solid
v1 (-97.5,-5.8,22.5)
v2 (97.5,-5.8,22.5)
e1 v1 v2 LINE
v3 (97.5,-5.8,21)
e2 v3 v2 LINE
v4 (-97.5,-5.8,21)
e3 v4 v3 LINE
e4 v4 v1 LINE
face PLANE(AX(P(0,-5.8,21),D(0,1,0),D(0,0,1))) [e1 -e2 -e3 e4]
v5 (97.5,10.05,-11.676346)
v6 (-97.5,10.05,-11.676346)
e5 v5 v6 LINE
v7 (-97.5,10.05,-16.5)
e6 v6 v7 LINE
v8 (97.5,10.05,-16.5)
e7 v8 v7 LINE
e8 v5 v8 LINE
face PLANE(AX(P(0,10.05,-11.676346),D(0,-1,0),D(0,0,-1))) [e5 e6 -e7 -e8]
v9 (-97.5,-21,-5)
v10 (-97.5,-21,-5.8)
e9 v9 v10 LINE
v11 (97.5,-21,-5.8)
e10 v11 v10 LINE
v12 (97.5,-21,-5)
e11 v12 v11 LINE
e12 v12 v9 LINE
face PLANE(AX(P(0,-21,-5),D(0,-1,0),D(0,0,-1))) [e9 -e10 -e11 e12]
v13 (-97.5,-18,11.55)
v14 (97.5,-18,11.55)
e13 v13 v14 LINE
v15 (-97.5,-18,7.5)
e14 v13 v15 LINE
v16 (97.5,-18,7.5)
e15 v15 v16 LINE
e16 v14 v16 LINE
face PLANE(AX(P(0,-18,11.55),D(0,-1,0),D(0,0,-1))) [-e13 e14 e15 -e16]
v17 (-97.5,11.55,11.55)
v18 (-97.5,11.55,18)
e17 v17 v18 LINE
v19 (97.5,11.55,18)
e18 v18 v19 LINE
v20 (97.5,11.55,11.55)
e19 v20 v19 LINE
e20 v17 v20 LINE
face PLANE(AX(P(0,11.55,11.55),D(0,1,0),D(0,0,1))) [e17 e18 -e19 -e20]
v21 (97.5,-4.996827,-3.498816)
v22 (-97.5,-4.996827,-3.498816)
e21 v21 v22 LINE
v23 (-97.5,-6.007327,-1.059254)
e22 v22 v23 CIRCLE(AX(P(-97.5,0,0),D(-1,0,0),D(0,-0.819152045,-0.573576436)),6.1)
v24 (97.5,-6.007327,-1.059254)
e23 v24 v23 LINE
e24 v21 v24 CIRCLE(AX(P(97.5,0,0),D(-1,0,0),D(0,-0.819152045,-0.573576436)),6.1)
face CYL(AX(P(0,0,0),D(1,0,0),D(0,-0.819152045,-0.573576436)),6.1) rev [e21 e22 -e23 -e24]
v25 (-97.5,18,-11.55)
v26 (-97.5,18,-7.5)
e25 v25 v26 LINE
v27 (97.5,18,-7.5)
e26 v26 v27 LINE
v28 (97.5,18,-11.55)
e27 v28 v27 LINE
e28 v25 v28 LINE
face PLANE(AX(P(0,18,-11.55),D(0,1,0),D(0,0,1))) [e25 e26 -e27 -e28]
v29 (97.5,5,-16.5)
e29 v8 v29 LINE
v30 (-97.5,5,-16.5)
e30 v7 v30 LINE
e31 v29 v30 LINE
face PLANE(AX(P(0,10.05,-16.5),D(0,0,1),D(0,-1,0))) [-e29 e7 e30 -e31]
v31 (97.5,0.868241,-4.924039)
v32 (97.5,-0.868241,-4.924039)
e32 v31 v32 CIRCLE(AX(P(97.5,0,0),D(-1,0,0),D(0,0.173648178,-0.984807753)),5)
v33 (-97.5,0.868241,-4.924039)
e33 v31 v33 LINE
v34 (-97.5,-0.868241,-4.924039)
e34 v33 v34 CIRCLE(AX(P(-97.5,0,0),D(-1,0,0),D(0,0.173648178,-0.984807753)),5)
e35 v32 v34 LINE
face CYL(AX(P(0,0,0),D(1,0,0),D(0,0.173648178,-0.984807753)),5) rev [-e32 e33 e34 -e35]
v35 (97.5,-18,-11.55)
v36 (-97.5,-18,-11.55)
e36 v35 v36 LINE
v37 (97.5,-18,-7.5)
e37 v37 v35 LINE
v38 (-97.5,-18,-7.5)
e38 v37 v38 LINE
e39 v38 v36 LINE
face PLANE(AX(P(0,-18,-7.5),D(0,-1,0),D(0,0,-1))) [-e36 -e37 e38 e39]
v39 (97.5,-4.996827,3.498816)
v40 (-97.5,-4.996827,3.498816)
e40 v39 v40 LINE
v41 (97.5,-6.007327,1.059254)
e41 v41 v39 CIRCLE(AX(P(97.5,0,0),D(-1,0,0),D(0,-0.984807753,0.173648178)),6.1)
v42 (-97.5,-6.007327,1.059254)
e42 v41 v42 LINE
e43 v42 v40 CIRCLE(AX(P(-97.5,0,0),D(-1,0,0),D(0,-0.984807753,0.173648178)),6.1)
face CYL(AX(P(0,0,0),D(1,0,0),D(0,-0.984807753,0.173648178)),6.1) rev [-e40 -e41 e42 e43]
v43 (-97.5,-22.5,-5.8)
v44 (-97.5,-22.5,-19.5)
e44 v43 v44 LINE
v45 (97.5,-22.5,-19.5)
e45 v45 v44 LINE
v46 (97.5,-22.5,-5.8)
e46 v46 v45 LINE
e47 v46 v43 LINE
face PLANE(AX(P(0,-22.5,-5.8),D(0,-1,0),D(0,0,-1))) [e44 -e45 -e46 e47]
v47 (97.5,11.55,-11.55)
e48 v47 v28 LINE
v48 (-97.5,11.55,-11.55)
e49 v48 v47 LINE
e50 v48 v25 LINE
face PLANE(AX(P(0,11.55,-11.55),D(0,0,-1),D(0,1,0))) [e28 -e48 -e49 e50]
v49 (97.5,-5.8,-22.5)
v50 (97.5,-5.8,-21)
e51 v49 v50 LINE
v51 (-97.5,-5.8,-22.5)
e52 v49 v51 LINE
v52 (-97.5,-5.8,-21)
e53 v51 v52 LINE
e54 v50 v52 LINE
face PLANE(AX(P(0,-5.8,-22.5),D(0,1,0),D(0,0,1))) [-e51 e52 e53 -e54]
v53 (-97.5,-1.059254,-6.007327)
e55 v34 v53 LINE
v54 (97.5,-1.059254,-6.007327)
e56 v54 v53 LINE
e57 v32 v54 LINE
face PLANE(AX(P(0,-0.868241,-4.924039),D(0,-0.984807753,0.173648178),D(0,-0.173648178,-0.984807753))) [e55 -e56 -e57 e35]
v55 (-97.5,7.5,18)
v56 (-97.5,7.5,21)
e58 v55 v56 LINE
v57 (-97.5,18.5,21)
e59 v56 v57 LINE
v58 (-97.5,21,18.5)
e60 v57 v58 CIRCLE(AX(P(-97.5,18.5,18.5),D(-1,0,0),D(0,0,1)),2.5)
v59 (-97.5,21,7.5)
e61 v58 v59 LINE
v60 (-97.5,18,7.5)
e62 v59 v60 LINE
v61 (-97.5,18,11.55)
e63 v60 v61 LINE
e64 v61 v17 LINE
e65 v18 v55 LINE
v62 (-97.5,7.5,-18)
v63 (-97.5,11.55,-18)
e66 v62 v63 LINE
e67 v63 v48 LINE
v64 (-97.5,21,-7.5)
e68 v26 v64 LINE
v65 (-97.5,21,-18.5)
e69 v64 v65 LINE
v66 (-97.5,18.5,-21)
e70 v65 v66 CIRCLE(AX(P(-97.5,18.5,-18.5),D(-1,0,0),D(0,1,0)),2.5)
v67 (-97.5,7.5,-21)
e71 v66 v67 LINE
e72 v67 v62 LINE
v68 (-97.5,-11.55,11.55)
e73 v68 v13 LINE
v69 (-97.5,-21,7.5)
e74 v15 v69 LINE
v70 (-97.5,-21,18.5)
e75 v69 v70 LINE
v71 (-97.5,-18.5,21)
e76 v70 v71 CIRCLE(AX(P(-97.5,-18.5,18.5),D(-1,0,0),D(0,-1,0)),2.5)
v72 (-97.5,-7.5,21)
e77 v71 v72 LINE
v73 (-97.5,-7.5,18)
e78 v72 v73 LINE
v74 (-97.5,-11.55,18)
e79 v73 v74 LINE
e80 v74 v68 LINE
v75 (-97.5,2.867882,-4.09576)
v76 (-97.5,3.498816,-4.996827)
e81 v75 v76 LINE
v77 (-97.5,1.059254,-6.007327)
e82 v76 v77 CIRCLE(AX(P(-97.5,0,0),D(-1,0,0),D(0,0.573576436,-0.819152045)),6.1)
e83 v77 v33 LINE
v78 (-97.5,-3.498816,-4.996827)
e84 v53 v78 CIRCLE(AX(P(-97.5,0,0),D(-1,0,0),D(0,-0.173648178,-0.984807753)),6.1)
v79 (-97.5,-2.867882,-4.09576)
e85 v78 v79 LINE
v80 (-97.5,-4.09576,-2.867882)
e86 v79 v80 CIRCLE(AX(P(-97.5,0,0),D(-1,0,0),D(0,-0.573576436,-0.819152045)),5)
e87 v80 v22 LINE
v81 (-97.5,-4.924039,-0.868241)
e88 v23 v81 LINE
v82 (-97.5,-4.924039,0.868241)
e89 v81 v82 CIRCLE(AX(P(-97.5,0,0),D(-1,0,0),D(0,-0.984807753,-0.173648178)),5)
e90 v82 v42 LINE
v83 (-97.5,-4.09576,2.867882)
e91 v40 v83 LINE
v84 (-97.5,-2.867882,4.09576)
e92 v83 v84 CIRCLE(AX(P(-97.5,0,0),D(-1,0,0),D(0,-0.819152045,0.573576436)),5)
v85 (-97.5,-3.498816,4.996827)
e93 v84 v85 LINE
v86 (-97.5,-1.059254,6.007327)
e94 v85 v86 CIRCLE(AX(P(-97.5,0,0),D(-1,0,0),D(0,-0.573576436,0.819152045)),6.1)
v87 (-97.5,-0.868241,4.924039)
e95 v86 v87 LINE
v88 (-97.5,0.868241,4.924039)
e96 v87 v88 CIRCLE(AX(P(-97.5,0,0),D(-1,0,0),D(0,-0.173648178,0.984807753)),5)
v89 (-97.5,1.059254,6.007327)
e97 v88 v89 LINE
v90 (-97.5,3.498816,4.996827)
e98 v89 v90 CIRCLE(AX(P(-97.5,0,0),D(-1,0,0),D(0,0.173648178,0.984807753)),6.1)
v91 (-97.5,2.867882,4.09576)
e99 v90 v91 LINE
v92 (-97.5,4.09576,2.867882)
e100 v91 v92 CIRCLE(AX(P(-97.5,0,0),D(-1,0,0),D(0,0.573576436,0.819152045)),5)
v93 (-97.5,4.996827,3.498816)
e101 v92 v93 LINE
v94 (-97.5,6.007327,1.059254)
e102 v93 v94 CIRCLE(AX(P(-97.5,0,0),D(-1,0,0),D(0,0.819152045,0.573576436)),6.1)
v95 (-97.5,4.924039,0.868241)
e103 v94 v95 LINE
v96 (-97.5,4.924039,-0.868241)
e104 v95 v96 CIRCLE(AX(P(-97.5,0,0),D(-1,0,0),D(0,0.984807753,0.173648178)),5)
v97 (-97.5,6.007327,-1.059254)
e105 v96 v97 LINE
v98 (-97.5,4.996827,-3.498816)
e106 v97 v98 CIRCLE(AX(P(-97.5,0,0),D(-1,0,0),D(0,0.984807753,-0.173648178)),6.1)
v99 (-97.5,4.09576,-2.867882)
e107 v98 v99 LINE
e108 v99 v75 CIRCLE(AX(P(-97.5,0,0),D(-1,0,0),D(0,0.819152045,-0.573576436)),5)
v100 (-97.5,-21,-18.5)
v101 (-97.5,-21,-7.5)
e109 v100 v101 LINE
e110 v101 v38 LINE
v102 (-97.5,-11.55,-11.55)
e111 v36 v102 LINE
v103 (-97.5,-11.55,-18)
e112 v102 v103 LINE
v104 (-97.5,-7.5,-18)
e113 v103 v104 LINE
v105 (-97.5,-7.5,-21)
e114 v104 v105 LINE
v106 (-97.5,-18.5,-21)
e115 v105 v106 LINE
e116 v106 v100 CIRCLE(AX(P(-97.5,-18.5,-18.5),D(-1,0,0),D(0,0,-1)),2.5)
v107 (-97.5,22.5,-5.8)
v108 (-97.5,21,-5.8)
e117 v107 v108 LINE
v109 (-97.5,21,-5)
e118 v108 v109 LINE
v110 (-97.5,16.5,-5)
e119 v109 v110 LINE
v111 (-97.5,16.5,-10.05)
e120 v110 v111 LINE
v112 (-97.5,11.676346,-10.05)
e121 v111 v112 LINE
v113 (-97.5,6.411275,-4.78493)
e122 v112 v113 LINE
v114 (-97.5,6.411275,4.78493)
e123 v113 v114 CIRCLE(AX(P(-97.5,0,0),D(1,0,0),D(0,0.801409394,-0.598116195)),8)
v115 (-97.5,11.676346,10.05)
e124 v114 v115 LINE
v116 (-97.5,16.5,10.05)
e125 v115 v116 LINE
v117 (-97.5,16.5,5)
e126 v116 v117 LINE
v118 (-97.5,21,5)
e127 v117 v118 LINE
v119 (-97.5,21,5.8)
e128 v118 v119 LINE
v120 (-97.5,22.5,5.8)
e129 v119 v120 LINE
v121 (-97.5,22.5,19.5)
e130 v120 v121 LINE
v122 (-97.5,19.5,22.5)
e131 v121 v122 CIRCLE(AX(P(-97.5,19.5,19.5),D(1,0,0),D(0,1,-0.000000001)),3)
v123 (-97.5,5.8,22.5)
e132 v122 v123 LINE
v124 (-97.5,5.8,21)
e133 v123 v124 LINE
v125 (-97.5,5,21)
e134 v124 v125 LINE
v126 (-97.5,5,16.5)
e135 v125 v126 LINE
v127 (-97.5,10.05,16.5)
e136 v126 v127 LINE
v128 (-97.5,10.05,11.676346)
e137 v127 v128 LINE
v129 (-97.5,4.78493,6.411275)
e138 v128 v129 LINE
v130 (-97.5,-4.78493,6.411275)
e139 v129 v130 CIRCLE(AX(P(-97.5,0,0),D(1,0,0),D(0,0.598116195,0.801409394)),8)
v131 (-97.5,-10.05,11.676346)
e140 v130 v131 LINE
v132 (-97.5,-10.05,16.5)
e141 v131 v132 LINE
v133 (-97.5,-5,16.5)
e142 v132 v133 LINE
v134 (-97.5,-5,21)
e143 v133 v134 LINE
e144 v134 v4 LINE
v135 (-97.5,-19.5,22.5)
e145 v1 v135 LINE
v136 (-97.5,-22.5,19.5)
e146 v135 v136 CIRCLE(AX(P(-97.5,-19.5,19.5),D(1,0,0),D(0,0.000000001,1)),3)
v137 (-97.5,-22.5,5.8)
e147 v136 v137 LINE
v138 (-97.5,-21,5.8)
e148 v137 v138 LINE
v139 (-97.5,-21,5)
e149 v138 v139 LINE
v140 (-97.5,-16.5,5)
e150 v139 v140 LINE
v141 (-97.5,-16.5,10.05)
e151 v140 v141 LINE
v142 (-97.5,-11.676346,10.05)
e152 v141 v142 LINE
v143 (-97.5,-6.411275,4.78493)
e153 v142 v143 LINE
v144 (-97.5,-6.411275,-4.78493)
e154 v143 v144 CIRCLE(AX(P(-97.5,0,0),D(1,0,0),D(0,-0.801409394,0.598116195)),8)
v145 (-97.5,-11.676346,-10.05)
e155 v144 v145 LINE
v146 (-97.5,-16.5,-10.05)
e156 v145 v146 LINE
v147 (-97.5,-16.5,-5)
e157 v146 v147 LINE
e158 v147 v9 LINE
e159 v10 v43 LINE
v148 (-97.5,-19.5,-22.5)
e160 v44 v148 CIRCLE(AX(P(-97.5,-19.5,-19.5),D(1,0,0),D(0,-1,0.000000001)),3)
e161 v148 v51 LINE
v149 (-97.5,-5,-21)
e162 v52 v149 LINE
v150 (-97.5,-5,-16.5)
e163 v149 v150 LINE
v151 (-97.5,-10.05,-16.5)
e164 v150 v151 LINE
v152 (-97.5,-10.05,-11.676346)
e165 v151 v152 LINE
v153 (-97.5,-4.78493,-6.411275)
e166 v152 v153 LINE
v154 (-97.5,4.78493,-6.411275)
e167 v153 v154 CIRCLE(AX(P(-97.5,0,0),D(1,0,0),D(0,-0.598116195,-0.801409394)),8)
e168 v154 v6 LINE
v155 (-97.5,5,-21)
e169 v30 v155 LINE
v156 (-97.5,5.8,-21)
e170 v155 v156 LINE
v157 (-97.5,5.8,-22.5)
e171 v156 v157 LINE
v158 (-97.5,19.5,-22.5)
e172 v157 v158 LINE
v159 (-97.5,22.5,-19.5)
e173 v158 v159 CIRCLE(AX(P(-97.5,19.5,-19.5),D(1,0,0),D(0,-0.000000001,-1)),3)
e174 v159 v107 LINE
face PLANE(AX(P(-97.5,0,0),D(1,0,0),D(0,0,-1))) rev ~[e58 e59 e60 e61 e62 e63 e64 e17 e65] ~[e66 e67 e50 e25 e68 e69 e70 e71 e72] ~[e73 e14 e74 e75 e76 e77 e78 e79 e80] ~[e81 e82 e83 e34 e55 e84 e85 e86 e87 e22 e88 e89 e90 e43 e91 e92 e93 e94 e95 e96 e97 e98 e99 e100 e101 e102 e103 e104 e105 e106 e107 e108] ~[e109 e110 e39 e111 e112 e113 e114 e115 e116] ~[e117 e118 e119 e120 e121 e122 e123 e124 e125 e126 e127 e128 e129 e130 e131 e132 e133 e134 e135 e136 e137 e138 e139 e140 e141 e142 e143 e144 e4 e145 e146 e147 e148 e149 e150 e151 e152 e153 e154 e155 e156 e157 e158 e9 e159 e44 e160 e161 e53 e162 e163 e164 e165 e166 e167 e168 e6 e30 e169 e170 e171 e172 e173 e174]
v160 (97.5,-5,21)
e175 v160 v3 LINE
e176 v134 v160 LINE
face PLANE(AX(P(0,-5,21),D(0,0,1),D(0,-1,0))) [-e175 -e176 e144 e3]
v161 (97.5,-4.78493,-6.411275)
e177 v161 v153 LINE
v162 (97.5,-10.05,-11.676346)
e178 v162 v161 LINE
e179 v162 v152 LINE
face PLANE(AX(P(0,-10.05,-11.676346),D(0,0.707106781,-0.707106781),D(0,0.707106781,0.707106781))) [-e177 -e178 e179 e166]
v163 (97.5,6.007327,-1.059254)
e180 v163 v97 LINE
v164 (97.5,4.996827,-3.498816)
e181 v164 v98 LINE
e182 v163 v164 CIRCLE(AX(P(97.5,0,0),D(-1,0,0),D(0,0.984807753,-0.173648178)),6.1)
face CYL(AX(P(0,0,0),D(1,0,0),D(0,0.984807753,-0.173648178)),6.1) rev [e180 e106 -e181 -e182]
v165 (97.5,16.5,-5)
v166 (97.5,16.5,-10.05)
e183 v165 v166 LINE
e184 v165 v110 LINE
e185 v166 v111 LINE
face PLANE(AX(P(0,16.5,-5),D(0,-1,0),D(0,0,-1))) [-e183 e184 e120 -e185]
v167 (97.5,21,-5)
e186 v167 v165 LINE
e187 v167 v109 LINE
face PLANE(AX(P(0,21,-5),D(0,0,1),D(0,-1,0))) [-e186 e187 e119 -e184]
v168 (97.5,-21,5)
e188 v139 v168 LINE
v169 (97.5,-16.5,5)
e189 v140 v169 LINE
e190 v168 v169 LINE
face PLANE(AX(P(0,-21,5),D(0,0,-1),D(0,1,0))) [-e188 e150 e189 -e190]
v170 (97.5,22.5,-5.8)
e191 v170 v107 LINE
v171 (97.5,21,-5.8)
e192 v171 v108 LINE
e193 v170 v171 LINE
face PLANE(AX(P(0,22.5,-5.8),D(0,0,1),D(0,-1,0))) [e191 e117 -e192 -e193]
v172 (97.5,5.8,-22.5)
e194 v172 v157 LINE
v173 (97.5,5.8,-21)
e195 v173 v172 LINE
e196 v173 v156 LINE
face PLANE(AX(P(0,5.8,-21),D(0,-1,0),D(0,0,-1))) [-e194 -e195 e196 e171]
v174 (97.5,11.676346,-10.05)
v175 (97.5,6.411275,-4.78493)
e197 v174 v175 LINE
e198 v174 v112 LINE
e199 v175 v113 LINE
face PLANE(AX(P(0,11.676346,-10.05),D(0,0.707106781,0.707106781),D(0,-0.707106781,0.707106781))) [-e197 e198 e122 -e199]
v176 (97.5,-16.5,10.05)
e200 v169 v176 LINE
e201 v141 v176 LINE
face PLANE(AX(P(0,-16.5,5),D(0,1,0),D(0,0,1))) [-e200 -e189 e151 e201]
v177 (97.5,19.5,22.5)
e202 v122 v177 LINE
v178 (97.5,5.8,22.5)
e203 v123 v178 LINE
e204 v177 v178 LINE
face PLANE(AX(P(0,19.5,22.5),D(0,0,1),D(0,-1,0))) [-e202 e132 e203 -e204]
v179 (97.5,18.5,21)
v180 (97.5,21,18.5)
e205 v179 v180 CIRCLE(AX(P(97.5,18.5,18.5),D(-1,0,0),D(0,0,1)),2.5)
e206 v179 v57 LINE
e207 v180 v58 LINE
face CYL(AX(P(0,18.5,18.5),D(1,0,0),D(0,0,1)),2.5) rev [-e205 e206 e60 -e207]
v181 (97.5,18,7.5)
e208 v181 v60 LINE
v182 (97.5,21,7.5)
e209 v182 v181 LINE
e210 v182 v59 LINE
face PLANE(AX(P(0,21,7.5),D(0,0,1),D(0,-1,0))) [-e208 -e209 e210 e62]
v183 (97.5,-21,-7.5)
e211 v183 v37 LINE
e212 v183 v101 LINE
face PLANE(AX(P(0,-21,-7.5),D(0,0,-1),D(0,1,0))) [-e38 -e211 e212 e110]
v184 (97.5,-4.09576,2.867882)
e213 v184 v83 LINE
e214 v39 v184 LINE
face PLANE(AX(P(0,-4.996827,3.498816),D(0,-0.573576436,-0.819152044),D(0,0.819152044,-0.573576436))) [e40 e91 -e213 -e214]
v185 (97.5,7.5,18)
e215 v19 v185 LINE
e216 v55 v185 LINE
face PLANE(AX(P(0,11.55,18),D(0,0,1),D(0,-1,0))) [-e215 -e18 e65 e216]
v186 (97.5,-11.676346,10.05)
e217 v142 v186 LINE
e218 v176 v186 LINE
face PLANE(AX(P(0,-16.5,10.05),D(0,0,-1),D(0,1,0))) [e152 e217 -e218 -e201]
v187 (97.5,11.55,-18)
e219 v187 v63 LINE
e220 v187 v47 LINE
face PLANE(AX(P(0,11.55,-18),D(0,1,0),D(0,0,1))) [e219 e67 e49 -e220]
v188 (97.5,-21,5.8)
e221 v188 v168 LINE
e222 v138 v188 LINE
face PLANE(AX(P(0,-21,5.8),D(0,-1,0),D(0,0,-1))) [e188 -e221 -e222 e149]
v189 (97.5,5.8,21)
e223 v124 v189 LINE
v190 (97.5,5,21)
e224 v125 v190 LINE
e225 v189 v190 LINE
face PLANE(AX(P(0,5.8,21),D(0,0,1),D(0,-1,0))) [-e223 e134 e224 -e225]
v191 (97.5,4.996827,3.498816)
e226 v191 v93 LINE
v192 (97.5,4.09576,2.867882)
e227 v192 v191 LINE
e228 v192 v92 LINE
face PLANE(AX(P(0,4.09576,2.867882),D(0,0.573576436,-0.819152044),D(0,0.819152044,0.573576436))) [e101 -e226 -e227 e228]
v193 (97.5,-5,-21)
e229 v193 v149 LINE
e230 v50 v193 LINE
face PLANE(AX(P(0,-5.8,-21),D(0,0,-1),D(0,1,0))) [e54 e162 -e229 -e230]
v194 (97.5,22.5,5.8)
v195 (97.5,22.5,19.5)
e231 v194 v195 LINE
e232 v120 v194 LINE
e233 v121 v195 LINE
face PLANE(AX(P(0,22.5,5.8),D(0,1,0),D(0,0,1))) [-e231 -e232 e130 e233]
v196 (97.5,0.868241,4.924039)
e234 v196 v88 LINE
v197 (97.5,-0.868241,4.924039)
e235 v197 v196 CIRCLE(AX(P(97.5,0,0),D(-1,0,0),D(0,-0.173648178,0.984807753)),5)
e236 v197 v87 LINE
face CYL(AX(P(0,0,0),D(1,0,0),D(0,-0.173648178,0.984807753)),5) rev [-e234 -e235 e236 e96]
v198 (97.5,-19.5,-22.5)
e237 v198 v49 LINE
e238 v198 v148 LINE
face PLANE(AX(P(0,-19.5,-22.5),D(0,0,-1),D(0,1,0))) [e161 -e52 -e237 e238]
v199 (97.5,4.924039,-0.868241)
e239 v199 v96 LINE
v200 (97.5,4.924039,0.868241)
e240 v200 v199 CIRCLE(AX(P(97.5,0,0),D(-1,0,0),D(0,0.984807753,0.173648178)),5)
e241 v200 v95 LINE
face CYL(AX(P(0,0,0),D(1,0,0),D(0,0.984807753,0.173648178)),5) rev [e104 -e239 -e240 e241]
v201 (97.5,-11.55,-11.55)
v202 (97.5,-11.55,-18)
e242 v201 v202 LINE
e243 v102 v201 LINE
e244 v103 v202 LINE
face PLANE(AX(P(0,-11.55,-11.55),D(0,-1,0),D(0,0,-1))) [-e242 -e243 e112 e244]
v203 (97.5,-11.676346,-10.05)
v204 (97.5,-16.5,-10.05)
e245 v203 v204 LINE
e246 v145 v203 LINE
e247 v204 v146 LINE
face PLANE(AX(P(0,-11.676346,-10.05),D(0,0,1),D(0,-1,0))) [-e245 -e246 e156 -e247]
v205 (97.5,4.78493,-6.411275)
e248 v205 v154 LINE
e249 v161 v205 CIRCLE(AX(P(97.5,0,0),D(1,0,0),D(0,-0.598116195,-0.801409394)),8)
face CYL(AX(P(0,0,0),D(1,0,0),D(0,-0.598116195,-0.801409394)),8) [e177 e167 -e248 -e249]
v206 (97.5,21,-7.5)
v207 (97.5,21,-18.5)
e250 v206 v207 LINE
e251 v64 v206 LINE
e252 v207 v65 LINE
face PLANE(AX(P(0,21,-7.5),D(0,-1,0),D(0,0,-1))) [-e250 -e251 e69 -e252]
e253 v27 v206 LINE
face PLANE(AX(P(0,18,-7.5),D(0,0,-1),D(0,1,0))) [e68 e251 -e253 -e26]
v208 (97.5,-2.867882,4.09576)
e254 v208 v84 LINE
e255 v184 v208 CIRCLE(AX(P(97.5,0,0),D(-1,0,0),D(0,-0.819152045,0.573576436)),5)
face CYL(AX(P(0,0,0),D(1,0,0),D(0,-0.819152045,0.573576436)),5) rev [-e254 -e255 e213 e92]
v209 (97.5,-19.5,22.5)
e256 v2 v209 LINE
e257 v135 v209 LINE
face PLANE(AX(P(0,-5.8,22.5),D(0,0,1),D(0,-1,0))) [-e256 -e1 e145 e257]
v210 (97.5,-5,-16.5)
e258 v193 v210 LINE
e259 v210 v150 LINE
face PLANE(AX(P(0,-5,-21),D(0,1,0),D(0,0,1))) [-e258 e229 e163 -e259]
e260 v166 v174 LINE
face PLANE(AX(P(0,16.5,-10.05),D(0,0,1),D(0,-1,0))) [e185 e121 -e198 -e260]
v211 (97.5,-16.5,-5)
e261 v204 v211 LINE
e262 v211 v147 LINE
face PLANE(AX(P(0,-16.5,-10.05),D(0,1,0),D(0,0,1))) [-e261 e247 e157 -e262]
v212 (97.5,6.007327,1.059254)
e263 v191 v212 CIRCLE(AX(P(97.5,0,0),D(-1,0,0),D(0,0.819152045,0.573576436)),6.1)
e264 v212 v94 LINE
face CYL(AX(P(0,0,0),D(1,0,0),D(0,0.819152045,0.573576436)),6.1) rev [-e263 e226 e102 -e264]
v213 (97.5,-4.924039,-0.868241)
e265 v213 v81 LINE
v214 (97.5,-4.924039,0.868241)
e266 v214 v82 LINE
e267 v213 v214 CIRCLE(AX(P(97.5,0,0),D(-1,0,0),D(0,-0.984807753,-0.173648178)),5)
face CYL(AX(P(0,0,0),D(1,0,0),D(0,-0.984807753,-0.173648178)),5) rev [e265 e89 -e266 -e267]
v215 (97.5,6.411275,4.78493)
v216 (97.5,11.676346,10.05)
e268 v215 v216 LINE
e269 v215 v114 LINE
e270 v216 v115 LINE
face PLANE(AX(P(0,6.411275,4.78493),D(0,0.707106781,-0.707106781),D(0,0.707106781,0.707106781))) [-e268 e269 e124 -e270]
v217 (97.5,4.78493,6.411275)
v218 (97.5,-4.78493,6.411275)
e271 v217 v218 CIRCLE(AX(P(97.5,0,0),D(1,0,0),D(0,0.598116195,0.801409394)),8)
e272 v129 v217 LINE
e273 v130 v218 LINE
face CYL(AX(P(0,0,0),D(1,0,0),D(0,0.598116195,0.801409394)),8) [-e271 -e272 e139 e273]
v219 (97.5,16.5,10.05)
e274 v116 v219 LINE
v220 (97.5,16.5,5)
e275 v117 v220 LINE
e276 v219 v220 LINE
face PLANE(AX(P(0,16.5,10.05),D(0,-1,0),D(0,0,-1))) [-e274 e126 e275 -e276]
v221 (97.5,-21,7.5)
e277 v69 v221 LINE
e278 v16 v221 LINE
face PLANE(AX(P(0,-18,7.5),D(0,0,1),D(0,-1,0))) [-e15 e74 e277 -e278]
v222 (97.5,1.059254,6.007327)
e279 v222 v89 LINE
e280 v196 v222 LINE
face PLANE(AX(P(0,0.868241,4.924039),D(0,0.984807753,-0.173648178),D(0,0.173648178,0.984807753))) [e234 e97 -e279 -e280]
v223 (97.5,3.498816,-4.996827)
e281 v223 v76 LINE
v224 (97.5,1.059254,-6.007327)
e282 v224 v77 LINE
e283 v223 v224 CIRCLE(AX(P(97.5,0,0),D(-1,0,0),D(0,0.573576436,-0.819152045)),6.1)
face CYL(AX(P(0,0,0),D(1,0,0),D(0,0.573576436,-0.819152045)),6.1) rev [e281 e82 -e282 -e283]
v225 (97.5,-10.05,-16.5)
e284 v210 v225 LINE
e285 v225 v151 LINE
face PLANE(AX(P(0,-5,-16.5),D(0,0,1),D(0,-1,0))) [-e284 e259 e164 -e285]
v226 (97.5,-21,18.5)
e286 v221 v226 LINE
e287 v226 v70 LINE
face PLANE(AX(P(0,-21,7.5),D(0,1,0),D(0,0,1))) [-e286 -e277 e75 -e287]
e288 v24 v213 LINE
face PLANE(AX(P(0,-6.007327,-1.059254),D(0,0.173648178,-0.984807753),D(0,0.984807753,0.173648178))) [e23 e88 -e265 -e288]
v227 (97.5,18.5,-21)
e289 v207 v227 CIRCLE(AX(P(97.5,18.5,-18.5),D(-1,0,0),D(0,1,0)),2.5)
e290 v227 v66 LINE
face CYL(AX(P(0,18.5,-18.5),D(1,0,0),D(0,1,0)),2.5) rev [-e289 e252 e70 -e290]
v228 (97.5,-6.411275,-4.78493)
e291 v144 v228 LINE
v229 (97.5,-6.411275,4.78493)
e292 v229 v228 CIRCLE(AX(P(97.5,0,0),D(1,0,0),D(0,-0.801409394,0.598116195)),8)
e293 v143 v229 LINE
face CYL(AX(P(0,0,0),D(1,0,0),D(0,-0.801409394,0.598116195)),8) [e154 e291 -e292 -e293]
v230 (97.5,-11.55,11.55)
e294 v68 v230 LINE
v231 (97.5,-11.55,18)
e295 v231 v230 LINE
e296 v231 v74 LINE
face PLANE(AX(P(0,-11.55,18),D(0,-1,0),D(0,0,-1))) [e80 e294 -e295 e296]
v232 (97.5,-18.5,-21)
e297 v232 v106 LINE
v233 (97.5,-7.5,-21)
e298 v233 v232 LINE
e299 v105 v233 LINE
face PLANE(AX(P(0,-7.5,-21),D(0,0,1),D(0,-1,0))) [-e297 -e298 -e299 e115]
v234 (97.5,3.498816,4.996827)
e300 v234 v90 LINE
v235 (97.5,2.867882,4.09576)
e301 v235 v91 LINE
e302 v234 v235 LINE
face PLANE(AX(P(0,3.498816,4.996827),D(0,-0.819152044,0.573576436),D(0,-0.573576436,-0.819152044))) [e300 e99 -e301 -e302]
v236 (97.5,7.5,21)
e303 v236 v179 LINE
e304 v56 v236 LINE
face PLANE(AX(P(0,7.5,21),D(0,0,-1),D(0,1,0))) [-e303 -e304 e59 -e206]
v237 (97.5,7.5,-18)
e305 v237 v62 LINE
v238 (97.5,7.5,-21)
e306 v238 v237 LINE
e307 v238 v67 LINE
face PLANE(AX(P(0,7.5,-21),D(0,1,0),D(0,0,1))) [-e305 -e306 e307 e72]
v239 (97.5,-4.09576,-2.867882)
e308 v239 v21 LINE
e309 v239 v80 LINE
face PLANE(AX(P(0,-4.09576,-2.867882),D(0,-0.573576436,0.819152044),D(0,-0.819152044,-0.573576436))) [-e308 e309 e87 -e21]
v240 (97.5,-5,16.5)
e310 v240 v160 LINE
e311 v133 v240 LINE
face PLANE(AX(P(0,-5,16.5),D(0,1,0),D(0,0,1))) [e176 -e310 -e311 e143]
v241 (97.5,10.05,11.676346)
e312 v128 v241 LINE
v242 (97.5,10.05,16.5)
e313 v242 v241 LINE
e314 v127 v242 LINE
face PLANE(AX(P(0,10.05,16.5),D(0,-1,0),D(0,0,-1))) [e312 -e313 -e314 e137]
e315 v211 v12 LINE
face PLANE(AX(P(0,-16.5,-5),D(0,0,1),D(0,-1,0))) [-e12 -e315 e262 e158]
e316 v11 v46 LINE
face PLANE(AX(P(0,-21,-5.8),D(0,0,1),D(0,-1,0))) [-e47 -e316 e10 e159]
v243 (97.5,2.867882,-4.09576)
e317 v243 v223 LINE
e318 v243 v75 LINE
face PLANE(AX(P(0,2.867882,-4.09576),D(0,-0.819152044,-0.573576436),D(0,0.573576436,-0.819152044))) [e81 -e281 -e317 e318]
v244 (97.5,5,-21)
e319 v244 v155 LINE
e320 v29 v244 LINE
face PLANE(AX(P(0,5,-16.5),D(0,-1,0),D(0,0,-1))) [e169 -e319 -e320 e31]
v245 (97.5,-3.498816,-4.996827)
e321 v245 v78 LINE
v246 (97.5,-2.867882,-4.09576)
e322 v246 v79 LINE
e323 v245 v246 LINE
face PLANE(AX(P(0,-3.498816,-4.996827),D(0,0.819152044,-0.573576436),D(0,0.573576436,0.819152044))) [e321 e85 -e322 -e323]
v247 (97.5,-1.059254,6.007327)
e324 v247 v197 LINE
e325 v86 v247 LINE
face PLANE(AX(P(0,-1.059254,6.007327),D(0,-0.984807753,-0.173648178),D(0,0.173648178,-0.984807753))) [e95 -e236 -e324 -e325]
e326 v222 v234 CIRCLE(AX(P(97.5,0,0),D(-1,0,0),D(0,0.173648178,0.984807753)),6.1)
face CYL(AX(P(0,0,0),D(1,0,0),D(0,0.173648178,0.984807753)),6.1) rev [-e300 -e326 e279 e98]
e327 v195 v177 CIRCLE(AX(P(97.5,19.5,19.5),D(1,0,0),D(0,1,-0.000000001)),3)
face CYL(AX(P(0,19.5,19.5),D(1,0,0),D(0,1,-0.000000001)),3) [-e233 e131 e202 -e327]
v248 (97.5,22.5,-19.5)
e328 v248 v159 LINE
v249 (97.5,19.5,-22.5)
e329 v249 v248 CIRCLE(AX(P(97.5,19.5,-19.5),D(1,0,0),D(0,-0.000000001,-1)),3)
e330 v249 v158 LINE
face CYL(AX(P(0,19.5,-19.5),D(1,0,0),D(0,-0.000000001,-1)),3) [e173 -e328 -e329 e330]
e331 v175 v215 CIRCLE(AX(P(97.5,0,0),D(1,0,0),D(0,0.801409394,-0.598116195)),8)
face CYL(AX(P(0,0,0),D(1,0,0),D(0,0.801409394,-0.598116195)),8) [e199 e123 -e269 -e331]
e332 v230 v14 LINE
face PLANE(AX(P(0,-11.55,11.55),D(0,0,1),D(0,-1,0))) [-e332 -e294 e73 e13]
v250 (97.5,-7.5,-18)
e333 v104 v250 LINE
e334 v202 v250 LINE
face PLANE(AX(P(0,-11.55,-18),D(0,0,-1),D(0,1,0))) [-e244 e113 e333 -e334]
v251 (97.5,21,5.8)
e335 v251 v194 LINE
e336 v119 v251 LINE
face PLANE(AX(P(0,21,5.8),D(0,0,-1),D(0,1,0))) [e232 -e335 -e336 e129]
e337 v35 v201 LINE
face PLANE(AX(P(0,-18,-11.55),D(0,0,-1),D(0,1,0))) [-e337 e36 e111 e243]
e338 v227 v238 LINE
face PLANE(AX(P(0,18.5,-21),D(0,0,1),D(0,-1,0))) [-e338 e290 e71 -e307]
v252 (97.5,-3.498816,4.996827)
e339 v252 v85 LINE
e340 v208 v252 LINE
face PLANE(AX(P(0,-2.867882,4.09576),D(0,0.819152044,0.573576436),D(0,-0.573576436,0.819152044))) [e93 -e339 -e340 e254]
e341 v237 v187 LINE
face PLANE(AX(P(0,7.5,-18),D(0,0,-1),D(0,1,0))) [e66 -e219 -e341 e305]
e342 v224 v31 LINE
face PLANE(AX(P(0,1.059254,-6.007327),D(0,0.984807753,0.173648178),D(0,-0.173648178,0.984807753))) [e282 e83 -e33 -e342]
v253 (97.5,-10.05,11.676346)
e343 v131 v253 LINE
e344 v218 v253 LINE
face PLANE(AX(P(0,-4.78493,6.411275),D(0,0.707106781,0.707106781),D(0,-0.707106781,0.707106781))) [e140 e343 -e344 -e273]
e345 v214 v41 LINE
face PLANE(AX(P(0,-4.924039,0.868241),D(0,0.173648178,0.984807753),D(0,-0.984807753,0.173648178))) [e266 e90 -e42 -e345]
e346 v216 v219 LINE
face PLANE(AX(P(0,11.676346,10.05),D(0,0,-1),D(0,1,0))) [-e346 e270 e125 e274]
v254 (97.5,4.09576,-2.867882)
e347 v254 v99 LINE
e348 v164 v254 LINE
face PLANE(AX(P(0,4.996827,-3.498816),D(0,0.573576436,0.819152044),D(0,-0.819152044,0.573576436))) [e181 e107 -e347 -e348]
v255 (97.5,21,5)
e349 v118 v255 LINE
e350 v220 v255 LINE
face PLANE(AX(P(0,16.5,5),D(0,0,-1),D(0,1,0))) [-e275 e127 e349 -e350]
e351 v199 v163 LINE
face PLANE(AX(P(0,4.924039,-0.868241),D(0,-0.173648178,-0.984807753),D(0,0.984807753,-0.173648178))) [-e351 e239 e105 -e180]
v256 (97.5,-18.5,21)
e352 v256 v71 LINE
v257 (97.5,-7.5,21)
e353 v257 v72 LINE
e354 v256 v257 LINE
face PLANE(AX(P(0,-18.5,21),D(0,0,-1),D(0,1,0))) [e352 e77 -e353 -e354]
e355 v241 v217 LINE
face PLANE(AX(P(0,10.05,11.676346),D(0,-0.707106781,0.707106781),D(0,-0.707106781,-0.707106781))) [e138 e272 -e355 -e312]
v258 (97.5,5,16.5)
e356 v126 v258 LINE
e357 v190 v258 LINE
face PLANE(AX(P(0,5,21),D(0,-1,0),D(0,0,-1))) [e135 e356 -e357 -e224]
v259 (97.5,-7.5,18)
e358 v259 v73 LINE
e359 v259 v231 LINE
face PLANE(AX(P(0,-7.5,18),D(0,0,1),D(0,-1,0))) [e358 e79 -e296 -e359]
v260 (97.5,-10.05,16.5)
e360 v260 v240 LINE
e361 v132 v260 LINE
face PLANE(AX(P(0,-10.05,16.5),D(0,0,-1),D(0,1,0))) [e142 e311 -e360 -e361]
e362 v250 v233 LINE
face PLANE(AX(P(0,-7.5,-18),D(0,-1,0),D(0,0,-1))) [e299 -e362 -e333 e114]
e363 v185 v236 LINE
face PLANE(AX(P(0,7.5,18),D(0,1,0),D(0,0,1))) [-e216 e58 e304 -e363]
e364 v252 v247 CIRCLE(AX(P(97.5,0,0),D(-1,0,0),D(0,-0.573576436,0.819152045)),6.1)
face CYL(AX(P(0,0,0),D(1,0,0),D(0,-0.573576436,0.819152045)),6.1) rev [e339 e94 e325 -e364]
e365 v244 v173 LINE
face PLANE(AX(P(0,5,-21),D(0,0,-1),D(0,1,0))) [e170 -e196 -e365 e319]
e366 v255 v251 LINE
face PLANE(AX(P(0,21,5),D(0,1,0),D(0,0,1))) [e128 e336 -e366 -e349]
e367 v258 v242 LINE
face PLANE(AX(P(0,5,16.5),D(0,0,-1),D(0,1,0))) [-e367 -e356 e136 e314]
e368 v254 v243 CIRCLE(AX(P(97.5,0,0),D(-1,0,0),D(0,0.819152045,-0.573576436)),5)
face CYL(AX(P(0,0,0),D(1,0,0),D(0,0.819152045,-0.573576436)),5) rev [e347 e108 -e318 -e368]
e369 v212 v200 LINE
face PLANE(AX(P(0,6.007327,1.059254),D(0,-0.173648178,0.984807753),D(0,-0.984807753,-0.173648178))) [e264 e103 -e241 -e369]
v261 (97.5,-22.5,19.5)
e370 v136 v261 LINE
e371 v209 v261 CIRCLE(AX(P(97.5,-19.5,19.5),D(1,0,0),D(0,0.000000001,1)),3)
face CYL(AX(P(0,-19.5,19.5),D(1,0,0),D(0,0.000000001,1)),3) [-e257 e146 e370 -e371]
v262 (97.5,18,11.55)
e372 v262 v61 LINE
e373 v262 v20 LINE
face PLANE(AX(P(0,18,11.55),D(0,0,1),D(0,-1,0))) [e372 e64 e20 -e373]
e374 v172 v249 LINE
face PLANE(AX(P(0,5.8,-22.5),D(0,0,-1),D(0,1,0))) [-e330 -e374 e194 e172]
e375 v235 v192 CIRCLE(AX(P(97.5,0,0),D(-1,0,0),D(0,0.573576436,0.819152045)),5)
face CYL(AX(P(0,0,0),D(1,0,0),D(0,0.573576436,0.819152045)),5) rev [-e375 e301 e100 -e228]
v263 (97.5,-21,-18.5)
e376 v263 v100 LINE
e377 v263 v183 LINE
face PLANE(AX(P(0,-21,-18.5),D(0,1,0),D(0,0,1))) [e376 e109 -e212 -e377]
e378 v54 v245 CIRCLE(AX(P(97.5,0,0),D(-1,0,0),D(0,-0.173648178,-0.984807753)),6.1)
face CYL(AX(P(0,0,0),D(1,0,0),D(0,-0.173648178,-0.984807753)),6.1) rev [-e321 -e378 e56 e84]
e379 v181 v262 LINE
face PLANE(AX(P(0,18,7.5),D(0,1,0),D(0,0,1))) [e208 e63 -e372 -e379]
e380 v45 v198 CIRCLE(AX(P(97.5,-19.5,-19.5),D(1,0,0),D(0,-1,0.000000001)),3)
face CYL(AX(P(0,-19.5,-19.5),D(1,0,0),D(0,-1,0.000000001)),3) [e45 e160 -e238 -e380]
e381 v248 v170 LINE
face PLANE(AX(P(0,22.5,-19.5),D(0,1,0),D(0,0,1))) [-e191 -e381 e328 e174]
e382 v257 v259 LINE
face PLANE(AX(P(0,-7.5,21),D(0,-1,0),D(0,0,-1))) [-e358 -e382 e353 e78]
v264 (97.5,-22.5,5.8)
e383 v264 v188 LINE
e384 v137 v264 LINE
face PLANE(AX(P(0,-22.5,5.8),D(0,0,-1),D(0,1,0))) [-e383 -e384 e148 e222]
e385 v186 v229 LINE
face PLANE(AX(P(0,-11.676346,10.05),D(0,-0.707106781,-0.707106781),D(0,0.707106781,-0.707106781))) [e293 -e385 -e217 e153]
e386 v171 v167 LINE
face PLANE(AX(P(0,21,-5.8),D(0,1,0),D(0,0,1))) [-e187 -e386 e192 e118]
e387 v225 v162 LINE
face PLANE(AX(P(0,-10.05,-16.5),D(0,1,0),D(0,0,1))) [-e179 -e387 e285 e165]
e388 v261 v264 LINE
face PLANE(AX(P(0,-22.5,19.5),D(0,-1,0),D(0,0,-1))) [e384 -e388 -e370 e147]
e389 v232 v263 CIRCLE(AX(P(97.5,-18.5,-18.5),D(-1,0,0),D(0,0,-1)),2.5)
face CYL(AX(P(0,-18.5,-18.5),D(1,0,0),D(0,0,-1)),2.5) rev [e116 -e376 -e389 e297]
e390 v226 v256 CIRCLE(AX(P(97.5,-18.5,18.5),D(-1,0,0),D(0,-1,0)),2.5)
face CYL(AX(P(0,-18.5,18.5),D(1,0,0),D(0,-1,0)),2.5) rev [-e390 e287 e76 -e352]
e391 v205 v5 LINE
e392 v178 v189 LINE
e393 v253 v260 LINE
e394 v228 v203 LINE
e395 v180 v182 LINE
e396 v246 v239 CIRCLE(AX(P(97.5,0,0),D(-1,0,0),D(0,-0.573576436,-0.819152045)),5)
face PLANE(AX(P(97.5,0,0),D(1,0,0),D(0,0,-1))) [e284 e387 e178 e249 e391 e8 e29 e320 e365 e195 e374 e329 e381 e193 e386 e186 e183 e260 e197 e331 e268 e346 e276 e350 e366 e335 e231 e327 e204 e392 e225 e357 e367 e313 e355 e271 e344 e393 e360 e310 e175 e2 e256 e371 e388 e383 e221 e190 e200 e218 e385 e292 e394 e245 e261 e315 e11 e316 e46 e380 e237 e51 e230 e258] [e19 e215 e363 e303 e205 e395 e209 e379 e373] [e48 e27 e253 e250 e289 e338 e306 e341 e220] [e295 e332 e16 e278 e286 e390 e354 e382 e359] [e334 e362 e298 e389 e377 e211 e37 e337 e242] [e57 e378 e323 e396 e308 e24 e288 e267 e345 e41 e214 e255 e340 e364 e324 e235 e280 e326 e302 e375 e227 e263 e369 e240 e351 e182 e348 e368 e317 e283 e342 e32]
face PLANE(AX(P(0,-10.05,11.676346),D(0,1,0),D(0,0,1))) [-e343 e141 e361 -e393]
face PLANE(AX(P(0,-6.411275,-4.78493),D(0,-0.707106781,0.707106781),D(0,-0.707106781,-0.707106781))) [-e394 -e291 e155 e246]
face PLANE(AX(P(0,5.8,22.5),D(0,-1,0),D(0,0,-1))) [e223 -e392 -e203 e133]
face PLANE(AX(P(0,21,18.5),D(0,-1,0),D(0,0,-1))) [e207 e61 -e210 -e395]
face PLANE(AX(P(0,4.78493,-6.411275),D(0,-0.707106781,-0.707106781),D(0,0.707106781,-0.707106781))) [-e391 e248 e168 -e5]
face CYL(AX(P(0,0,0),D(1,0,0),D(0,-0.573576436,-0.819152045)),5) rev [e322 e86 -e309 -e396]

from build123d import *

# Parameters (mm, degrees)
BR_EXTRUDE_DEPTH      = 97.5
BR_EXTRUDE_DEPTH_BACK = 97.5


with BuildPart() as part:
    # Sketch2 → BR_Extrude (new body, two sides)
    with BuildSketch(Plane(origin=(0, 0, 0), x_dir=(0, 0, -1), z_dir=(1, 0, 0))) as br_extrude_sk:
        with BuildLine():
            Line((-10.05, 11.676345597), (-10.05, 16.5))
            Line((-10.05, 16.5), (-5, 16.5))
            Line((-5, 16.5), (-5, 21))
            Line((-5, 21), (-5.8, 21))
            Line((-5.8, 21), (-5.8, 22.5))
            Line((-5.8, 22.5), (-19.5, 22.5))
            ThreePointArc((-19.5, 22.5), (-21.621320344, 21.621320344), (-22.5, 19.5))
            Line((-22.5, 19.5), (-22.5, 5.8))
            Line((-22.5, 5.8), (-21, 5.8))
            Line((-21, 5.8), (-21, 5))
            Line((-21, 5), (-16.5, 5))
            Line((-16.5, 5), (-16.5, 10.05))
            Line((-16.5, 10.05), (-11.676345597, 10.05))
            Line((-11.676345597, 10.05), (-6.411275155, 4.784929559))
            ThreePointArc((-6.411275155, 4.784929559), (-8, 0), (-6.411275155, -4.784929559))
            Line((-6.411275155, -4.784929559), (-11.676345597, -10.05))
            Line((-11.676345597, -10.05), (-16.5, -10.05))
            Line((-16.5, -10.05), (-16.5, -5))
            Line((-16.5, -5), (-21, -5))
            Line((-21, -5), (-21, -5.8))
            Line((-21, -5.8), (-22.5, -5.8))
            Line((-22.5, -5.8), (-22.5, -19.5))
            ThreePointArc((-22.5, -19.5), (-21.621320344, -21.621320344), (-19.5, -22.5))
            Line((-19.5, -22.5), (-5.8, -22.5))
            Line((-5.8, -22.5), (-5.8, -21))
            Line((-5.8, -21), (-5, -21))
            Line((-5, -21), (-5, -16.5))
            Line((-5, -16.5), (-10.05, -16.5))
            Line((-10.05, -16.5), (-10.05, -11.676345597))
            Line((-10.05, -11.676345597), (-4.784929559, -6.411275155))
            ThreePointArc((-4.784929559, -6.411275155), (0, -8), (4.784929559, -6.411275155))
            Line((4.784929559, -6.411275155), (10.05, -11.676345597))
            Line((10.05, -11.676345597), (10.05, -16.5))
            Line((10.05, -16.5), (5, -16.5))
            Line((5, -16.5), (5, -21))
            Line((5, -21), (5.8, -21))
            Line((5.8, -21), (5.8, -22.5))
            Line((5.8, -22.5), (19.5, -22.5))
            ThreePointArc((19.5, -22.5), (21.621320344, -21.621320344), (22.5, -19.5))
            Line((22.5, -19.5), (22.5, -5.8))
            Line((22.5, -5.8), (21, -5.8))
            Line((21, -5.8), (21, -5))
            Line((21, -5), (16.5, -5))
            Line((16.5, -5), (16.5, -10.05))
            Line((16.5, -10.05), (11.676345597, -10.05))
            Line((11.676345597, -10.05), (6.411275155, -4.784929559))
            ThreePointArc((6.411275155, -4.784929559), (8, 0), (6.411275155, 4.784929559))
            Line((6.411275155, 4.784929559), (11.676345597, 10.05))
            Line((11.676345597, 10.05), (16.5, 10.05))
            Line((16.5, 10.05), (16.5, 5))
            Line((16.5, 5), (21, 5))
            Line((21, 5), (21, 5.8))
            Line((21, 5.8), (22.5, 5.8))
            Line((22.5, 5.8), (22.5, 19.5))
            ThreePointArc((22.5, 19.5), (21.621320344, 21.621320344), (19.5, 22.5))
            Line((19.5, 22.5), (5.8, 22.5))
            Line((5.8, 22.5), (5.8, 21))
            Line((5.8, 21), (5, 21))
            Line((5, 21), (5, 16.5))
            Line((5, 16.5), (10.05, 16.5))
            Line((10.05, 16.5), (10.05, 11.676345597))
            Line((10.05, 11.676345597), (4.784929559, 6.411275155))
            ThreePointArc((4.784929559, 6.411275155), (0, 8), (-4.784929559, 6.411275155))
            Line((-4.784929559, 6.411275155), (-10.05, 11.676345597))
        make_face()
        with BuildLine():
            Line((11.55, 11.55), (11.55, 18))
            Line((11.55, 18), (7.5, 18))
            Line((7.5, 18), (7.5, 21))
            Line((7.5, 21), (18.5, 21))
            ThreePointArc((18.5, 21), (20.267766953, 20.267766953), (21, 18.5))
            Line((21, 18.5), (21, 7.5))
            Line((21, 7.5), (18, 7.5))
            Line((18, 7.5), (18, 11.55))
            Line((18, 11.55), (11.55, 11.55))
        make_face(mode=Mode.SUBTRACT)
        with BuildLine():
            Line((11.55, -11.55), (18, -11.55))
            Line((18, -11.55), (18, -7.5))
            Line((18, -7.5), (21, -7.5))
            Line((21, -7.5), (21, -18.5))
            ThreePointArc((21, -18.5), (20.267766953, -20.267766953), (18.5, -21))
            Line((18.5, -21), (7.5, -21))
            Line((7.5, -21), (7.5, -18))
            Line((7.5, -18), (11.55, -18))
            Line((11.55, -18), (11.55, -11.55))
        make_face(mode=Mode.SUBTRACT)
        with BuildLine():
            Line((-11.55, 11.55), (-18, 11.55))
            Line((-18, 11.55), (-18, 7.5))
            Line((-18, 7.5), (-21, 7.5))
            Line((-21, 7.5), (-21, 18.5))
            ThreePointArc((-21, 18.5), (-20.267766953, 20.267766953), (-18.5, 21))
            Line((-18.5, 21), (-7.5, 21))
            Line((-7.5, 21), (-7.5, 18))
            Line((-7.5, 18), (-11.55, 18))
            Line((-11.55, 18), (-11.55, 11.55))
        make_face(mode=Mode.SUBTRACT)
        with BuildLine():
            Line((-11.55, -11.55), (-11.55, -18))
            Line((-11.55, -18), (-7.5, -18))
            Line((-7.5, -18), (-7.5, -21))
            Line((-7.5, -21), (-18.5, -21))
            ThreePointArc((-18.5, -21), (-20.267766953, -20.267766953), (-21, -18.5))
            Line((-21, -18.5), (-21, -7.5))
            Line((-21, -7.5), (-18, -7.5))
            Line((-18, -7.5), (-18, -11.55))
            Line((-18, -11.55), (-11.55, -11.55))
        make_face(mode=Mode.SUBTRACT)
        with BuildLine():
            Line((-6.007327293, -1.059253884), (-4.924038765, -0.868240888))
            ThreePointArc((-4.924038765, -0.868240888), (-5, 0), (-4.924038765, 0.868240888))
            Line((-4.924038765, 0.868240888), (-6.007327293, 1.059253884))
            ThreePointArc((-6.007327293, 1.059253884), (-5.635665148, 2.334368937), (-4.99682747, 3.498816262))
            Line((-4.99682747, 3.498816262), (-4.095760221, 2.867882182))
            ThreePointArc((-4.095760221, 2.867882182), (-3.535533906, 3.535533906), (-2.867882182, 4.095760221))
            Line((-2.867882182, 4.095760221), (-3.498816262, 4.99682747))
            ThreePointArc((-3.498816262, 4.99682747), (-2.334368937, 5.635665148), (-1.059253884, 6.007327293))
            Line((-1.059253884, 6.007327293), (-0.868240888, 4.924038765))
            ThreePointArc((-0.868240888, 4.924038765), (0, 5), (0.868240888, 4.924038765))
            Line((0.868240888, 4.924038765), (1.059253884, 6.007327293))
            ThreePointArc((1.059253884, 6.007327293), (2.334368937, 5.635665148), (3.498816262, 4.99682747))
            Line((3.498816262, 4.99682747), (2.867882182, 4.095760221))
            ThreePointArc((2.867882182, 4.095760221), (3.535533906, 3.535533906), (4.095760221, 2.867882182))
            Line((4.095760221, 2.867882182), (4.99682747, 3.498816262))
            ThreePointArc((4.99682747, 3.498816262), (5.635665148, 2.334368937), (6.007327293, 1.059253884))
            Line((6.007327293, 1.059253884), (4.924038765, 0.868240888))
            ThreePointArc((4.924038765, 0.868240888), (5, 0), (4.924038765, -0.868240888))
            Line((4.924038765, -0.868240888), (6.007327293, -1.059253884))
            ThreePointArc((6.007327293, -1.059253884), (5.635665148, -2.334368937), (4.99682747, -3.498816262))
            Line((4.99682747, -3.498816262), (4.095760221, -2.867882182))
            ThreePointArc((4.095760221, -2.867882182), (3.535533906, -3.535533906), (2.867882182, -4.095760221))
            Line((2.867882182, -4.095760221), (3.498816262, -4.99682747))
            ThreePointArc((3.498816262, -4.99682747), (2.334368937, -5.635665148), (1.059253884, -6.007327293))
            Line((1.059253884, -6.007327293), (0.868240888, -4.924038765))
            ThreePointArc((0.868240888, -4.924038765), (0, -5), (-0.868240888, -4.924038765))
            Line((-0.868240888, -4.924038765), (-1.059253884, -6.007327293))
            ThreePointArc((-1.059253884, -6.007327293), (-2.334368937, -5.635665148), (-3.498816262, -4.99682747))
            Line((-3.498816262, -4.99682747), (-2.867882182, -4.095760221))
            ThreePointArc((-2.867882182, -4.095760221), (-3.535533906, -3.535533906), (-4.095760221, -2.867882182))
            Line((-4.095760221, -2.867882182), (-4.99682747, -3.498816262))
            ThreePointArc((-4.99682747, -3.498816262), (-5.635665148, -2.334368937), (-6.007327293, -1.059253884))
        make_face(mode=Mode.SUBTRACT)
    extrude(amount=BR_EXTRUDE_DEPTH)
    extrude(br_extrude_sk.sketch, amount=-BR_EXTRUDE_DEPTH_BACK)


solid = part.part
